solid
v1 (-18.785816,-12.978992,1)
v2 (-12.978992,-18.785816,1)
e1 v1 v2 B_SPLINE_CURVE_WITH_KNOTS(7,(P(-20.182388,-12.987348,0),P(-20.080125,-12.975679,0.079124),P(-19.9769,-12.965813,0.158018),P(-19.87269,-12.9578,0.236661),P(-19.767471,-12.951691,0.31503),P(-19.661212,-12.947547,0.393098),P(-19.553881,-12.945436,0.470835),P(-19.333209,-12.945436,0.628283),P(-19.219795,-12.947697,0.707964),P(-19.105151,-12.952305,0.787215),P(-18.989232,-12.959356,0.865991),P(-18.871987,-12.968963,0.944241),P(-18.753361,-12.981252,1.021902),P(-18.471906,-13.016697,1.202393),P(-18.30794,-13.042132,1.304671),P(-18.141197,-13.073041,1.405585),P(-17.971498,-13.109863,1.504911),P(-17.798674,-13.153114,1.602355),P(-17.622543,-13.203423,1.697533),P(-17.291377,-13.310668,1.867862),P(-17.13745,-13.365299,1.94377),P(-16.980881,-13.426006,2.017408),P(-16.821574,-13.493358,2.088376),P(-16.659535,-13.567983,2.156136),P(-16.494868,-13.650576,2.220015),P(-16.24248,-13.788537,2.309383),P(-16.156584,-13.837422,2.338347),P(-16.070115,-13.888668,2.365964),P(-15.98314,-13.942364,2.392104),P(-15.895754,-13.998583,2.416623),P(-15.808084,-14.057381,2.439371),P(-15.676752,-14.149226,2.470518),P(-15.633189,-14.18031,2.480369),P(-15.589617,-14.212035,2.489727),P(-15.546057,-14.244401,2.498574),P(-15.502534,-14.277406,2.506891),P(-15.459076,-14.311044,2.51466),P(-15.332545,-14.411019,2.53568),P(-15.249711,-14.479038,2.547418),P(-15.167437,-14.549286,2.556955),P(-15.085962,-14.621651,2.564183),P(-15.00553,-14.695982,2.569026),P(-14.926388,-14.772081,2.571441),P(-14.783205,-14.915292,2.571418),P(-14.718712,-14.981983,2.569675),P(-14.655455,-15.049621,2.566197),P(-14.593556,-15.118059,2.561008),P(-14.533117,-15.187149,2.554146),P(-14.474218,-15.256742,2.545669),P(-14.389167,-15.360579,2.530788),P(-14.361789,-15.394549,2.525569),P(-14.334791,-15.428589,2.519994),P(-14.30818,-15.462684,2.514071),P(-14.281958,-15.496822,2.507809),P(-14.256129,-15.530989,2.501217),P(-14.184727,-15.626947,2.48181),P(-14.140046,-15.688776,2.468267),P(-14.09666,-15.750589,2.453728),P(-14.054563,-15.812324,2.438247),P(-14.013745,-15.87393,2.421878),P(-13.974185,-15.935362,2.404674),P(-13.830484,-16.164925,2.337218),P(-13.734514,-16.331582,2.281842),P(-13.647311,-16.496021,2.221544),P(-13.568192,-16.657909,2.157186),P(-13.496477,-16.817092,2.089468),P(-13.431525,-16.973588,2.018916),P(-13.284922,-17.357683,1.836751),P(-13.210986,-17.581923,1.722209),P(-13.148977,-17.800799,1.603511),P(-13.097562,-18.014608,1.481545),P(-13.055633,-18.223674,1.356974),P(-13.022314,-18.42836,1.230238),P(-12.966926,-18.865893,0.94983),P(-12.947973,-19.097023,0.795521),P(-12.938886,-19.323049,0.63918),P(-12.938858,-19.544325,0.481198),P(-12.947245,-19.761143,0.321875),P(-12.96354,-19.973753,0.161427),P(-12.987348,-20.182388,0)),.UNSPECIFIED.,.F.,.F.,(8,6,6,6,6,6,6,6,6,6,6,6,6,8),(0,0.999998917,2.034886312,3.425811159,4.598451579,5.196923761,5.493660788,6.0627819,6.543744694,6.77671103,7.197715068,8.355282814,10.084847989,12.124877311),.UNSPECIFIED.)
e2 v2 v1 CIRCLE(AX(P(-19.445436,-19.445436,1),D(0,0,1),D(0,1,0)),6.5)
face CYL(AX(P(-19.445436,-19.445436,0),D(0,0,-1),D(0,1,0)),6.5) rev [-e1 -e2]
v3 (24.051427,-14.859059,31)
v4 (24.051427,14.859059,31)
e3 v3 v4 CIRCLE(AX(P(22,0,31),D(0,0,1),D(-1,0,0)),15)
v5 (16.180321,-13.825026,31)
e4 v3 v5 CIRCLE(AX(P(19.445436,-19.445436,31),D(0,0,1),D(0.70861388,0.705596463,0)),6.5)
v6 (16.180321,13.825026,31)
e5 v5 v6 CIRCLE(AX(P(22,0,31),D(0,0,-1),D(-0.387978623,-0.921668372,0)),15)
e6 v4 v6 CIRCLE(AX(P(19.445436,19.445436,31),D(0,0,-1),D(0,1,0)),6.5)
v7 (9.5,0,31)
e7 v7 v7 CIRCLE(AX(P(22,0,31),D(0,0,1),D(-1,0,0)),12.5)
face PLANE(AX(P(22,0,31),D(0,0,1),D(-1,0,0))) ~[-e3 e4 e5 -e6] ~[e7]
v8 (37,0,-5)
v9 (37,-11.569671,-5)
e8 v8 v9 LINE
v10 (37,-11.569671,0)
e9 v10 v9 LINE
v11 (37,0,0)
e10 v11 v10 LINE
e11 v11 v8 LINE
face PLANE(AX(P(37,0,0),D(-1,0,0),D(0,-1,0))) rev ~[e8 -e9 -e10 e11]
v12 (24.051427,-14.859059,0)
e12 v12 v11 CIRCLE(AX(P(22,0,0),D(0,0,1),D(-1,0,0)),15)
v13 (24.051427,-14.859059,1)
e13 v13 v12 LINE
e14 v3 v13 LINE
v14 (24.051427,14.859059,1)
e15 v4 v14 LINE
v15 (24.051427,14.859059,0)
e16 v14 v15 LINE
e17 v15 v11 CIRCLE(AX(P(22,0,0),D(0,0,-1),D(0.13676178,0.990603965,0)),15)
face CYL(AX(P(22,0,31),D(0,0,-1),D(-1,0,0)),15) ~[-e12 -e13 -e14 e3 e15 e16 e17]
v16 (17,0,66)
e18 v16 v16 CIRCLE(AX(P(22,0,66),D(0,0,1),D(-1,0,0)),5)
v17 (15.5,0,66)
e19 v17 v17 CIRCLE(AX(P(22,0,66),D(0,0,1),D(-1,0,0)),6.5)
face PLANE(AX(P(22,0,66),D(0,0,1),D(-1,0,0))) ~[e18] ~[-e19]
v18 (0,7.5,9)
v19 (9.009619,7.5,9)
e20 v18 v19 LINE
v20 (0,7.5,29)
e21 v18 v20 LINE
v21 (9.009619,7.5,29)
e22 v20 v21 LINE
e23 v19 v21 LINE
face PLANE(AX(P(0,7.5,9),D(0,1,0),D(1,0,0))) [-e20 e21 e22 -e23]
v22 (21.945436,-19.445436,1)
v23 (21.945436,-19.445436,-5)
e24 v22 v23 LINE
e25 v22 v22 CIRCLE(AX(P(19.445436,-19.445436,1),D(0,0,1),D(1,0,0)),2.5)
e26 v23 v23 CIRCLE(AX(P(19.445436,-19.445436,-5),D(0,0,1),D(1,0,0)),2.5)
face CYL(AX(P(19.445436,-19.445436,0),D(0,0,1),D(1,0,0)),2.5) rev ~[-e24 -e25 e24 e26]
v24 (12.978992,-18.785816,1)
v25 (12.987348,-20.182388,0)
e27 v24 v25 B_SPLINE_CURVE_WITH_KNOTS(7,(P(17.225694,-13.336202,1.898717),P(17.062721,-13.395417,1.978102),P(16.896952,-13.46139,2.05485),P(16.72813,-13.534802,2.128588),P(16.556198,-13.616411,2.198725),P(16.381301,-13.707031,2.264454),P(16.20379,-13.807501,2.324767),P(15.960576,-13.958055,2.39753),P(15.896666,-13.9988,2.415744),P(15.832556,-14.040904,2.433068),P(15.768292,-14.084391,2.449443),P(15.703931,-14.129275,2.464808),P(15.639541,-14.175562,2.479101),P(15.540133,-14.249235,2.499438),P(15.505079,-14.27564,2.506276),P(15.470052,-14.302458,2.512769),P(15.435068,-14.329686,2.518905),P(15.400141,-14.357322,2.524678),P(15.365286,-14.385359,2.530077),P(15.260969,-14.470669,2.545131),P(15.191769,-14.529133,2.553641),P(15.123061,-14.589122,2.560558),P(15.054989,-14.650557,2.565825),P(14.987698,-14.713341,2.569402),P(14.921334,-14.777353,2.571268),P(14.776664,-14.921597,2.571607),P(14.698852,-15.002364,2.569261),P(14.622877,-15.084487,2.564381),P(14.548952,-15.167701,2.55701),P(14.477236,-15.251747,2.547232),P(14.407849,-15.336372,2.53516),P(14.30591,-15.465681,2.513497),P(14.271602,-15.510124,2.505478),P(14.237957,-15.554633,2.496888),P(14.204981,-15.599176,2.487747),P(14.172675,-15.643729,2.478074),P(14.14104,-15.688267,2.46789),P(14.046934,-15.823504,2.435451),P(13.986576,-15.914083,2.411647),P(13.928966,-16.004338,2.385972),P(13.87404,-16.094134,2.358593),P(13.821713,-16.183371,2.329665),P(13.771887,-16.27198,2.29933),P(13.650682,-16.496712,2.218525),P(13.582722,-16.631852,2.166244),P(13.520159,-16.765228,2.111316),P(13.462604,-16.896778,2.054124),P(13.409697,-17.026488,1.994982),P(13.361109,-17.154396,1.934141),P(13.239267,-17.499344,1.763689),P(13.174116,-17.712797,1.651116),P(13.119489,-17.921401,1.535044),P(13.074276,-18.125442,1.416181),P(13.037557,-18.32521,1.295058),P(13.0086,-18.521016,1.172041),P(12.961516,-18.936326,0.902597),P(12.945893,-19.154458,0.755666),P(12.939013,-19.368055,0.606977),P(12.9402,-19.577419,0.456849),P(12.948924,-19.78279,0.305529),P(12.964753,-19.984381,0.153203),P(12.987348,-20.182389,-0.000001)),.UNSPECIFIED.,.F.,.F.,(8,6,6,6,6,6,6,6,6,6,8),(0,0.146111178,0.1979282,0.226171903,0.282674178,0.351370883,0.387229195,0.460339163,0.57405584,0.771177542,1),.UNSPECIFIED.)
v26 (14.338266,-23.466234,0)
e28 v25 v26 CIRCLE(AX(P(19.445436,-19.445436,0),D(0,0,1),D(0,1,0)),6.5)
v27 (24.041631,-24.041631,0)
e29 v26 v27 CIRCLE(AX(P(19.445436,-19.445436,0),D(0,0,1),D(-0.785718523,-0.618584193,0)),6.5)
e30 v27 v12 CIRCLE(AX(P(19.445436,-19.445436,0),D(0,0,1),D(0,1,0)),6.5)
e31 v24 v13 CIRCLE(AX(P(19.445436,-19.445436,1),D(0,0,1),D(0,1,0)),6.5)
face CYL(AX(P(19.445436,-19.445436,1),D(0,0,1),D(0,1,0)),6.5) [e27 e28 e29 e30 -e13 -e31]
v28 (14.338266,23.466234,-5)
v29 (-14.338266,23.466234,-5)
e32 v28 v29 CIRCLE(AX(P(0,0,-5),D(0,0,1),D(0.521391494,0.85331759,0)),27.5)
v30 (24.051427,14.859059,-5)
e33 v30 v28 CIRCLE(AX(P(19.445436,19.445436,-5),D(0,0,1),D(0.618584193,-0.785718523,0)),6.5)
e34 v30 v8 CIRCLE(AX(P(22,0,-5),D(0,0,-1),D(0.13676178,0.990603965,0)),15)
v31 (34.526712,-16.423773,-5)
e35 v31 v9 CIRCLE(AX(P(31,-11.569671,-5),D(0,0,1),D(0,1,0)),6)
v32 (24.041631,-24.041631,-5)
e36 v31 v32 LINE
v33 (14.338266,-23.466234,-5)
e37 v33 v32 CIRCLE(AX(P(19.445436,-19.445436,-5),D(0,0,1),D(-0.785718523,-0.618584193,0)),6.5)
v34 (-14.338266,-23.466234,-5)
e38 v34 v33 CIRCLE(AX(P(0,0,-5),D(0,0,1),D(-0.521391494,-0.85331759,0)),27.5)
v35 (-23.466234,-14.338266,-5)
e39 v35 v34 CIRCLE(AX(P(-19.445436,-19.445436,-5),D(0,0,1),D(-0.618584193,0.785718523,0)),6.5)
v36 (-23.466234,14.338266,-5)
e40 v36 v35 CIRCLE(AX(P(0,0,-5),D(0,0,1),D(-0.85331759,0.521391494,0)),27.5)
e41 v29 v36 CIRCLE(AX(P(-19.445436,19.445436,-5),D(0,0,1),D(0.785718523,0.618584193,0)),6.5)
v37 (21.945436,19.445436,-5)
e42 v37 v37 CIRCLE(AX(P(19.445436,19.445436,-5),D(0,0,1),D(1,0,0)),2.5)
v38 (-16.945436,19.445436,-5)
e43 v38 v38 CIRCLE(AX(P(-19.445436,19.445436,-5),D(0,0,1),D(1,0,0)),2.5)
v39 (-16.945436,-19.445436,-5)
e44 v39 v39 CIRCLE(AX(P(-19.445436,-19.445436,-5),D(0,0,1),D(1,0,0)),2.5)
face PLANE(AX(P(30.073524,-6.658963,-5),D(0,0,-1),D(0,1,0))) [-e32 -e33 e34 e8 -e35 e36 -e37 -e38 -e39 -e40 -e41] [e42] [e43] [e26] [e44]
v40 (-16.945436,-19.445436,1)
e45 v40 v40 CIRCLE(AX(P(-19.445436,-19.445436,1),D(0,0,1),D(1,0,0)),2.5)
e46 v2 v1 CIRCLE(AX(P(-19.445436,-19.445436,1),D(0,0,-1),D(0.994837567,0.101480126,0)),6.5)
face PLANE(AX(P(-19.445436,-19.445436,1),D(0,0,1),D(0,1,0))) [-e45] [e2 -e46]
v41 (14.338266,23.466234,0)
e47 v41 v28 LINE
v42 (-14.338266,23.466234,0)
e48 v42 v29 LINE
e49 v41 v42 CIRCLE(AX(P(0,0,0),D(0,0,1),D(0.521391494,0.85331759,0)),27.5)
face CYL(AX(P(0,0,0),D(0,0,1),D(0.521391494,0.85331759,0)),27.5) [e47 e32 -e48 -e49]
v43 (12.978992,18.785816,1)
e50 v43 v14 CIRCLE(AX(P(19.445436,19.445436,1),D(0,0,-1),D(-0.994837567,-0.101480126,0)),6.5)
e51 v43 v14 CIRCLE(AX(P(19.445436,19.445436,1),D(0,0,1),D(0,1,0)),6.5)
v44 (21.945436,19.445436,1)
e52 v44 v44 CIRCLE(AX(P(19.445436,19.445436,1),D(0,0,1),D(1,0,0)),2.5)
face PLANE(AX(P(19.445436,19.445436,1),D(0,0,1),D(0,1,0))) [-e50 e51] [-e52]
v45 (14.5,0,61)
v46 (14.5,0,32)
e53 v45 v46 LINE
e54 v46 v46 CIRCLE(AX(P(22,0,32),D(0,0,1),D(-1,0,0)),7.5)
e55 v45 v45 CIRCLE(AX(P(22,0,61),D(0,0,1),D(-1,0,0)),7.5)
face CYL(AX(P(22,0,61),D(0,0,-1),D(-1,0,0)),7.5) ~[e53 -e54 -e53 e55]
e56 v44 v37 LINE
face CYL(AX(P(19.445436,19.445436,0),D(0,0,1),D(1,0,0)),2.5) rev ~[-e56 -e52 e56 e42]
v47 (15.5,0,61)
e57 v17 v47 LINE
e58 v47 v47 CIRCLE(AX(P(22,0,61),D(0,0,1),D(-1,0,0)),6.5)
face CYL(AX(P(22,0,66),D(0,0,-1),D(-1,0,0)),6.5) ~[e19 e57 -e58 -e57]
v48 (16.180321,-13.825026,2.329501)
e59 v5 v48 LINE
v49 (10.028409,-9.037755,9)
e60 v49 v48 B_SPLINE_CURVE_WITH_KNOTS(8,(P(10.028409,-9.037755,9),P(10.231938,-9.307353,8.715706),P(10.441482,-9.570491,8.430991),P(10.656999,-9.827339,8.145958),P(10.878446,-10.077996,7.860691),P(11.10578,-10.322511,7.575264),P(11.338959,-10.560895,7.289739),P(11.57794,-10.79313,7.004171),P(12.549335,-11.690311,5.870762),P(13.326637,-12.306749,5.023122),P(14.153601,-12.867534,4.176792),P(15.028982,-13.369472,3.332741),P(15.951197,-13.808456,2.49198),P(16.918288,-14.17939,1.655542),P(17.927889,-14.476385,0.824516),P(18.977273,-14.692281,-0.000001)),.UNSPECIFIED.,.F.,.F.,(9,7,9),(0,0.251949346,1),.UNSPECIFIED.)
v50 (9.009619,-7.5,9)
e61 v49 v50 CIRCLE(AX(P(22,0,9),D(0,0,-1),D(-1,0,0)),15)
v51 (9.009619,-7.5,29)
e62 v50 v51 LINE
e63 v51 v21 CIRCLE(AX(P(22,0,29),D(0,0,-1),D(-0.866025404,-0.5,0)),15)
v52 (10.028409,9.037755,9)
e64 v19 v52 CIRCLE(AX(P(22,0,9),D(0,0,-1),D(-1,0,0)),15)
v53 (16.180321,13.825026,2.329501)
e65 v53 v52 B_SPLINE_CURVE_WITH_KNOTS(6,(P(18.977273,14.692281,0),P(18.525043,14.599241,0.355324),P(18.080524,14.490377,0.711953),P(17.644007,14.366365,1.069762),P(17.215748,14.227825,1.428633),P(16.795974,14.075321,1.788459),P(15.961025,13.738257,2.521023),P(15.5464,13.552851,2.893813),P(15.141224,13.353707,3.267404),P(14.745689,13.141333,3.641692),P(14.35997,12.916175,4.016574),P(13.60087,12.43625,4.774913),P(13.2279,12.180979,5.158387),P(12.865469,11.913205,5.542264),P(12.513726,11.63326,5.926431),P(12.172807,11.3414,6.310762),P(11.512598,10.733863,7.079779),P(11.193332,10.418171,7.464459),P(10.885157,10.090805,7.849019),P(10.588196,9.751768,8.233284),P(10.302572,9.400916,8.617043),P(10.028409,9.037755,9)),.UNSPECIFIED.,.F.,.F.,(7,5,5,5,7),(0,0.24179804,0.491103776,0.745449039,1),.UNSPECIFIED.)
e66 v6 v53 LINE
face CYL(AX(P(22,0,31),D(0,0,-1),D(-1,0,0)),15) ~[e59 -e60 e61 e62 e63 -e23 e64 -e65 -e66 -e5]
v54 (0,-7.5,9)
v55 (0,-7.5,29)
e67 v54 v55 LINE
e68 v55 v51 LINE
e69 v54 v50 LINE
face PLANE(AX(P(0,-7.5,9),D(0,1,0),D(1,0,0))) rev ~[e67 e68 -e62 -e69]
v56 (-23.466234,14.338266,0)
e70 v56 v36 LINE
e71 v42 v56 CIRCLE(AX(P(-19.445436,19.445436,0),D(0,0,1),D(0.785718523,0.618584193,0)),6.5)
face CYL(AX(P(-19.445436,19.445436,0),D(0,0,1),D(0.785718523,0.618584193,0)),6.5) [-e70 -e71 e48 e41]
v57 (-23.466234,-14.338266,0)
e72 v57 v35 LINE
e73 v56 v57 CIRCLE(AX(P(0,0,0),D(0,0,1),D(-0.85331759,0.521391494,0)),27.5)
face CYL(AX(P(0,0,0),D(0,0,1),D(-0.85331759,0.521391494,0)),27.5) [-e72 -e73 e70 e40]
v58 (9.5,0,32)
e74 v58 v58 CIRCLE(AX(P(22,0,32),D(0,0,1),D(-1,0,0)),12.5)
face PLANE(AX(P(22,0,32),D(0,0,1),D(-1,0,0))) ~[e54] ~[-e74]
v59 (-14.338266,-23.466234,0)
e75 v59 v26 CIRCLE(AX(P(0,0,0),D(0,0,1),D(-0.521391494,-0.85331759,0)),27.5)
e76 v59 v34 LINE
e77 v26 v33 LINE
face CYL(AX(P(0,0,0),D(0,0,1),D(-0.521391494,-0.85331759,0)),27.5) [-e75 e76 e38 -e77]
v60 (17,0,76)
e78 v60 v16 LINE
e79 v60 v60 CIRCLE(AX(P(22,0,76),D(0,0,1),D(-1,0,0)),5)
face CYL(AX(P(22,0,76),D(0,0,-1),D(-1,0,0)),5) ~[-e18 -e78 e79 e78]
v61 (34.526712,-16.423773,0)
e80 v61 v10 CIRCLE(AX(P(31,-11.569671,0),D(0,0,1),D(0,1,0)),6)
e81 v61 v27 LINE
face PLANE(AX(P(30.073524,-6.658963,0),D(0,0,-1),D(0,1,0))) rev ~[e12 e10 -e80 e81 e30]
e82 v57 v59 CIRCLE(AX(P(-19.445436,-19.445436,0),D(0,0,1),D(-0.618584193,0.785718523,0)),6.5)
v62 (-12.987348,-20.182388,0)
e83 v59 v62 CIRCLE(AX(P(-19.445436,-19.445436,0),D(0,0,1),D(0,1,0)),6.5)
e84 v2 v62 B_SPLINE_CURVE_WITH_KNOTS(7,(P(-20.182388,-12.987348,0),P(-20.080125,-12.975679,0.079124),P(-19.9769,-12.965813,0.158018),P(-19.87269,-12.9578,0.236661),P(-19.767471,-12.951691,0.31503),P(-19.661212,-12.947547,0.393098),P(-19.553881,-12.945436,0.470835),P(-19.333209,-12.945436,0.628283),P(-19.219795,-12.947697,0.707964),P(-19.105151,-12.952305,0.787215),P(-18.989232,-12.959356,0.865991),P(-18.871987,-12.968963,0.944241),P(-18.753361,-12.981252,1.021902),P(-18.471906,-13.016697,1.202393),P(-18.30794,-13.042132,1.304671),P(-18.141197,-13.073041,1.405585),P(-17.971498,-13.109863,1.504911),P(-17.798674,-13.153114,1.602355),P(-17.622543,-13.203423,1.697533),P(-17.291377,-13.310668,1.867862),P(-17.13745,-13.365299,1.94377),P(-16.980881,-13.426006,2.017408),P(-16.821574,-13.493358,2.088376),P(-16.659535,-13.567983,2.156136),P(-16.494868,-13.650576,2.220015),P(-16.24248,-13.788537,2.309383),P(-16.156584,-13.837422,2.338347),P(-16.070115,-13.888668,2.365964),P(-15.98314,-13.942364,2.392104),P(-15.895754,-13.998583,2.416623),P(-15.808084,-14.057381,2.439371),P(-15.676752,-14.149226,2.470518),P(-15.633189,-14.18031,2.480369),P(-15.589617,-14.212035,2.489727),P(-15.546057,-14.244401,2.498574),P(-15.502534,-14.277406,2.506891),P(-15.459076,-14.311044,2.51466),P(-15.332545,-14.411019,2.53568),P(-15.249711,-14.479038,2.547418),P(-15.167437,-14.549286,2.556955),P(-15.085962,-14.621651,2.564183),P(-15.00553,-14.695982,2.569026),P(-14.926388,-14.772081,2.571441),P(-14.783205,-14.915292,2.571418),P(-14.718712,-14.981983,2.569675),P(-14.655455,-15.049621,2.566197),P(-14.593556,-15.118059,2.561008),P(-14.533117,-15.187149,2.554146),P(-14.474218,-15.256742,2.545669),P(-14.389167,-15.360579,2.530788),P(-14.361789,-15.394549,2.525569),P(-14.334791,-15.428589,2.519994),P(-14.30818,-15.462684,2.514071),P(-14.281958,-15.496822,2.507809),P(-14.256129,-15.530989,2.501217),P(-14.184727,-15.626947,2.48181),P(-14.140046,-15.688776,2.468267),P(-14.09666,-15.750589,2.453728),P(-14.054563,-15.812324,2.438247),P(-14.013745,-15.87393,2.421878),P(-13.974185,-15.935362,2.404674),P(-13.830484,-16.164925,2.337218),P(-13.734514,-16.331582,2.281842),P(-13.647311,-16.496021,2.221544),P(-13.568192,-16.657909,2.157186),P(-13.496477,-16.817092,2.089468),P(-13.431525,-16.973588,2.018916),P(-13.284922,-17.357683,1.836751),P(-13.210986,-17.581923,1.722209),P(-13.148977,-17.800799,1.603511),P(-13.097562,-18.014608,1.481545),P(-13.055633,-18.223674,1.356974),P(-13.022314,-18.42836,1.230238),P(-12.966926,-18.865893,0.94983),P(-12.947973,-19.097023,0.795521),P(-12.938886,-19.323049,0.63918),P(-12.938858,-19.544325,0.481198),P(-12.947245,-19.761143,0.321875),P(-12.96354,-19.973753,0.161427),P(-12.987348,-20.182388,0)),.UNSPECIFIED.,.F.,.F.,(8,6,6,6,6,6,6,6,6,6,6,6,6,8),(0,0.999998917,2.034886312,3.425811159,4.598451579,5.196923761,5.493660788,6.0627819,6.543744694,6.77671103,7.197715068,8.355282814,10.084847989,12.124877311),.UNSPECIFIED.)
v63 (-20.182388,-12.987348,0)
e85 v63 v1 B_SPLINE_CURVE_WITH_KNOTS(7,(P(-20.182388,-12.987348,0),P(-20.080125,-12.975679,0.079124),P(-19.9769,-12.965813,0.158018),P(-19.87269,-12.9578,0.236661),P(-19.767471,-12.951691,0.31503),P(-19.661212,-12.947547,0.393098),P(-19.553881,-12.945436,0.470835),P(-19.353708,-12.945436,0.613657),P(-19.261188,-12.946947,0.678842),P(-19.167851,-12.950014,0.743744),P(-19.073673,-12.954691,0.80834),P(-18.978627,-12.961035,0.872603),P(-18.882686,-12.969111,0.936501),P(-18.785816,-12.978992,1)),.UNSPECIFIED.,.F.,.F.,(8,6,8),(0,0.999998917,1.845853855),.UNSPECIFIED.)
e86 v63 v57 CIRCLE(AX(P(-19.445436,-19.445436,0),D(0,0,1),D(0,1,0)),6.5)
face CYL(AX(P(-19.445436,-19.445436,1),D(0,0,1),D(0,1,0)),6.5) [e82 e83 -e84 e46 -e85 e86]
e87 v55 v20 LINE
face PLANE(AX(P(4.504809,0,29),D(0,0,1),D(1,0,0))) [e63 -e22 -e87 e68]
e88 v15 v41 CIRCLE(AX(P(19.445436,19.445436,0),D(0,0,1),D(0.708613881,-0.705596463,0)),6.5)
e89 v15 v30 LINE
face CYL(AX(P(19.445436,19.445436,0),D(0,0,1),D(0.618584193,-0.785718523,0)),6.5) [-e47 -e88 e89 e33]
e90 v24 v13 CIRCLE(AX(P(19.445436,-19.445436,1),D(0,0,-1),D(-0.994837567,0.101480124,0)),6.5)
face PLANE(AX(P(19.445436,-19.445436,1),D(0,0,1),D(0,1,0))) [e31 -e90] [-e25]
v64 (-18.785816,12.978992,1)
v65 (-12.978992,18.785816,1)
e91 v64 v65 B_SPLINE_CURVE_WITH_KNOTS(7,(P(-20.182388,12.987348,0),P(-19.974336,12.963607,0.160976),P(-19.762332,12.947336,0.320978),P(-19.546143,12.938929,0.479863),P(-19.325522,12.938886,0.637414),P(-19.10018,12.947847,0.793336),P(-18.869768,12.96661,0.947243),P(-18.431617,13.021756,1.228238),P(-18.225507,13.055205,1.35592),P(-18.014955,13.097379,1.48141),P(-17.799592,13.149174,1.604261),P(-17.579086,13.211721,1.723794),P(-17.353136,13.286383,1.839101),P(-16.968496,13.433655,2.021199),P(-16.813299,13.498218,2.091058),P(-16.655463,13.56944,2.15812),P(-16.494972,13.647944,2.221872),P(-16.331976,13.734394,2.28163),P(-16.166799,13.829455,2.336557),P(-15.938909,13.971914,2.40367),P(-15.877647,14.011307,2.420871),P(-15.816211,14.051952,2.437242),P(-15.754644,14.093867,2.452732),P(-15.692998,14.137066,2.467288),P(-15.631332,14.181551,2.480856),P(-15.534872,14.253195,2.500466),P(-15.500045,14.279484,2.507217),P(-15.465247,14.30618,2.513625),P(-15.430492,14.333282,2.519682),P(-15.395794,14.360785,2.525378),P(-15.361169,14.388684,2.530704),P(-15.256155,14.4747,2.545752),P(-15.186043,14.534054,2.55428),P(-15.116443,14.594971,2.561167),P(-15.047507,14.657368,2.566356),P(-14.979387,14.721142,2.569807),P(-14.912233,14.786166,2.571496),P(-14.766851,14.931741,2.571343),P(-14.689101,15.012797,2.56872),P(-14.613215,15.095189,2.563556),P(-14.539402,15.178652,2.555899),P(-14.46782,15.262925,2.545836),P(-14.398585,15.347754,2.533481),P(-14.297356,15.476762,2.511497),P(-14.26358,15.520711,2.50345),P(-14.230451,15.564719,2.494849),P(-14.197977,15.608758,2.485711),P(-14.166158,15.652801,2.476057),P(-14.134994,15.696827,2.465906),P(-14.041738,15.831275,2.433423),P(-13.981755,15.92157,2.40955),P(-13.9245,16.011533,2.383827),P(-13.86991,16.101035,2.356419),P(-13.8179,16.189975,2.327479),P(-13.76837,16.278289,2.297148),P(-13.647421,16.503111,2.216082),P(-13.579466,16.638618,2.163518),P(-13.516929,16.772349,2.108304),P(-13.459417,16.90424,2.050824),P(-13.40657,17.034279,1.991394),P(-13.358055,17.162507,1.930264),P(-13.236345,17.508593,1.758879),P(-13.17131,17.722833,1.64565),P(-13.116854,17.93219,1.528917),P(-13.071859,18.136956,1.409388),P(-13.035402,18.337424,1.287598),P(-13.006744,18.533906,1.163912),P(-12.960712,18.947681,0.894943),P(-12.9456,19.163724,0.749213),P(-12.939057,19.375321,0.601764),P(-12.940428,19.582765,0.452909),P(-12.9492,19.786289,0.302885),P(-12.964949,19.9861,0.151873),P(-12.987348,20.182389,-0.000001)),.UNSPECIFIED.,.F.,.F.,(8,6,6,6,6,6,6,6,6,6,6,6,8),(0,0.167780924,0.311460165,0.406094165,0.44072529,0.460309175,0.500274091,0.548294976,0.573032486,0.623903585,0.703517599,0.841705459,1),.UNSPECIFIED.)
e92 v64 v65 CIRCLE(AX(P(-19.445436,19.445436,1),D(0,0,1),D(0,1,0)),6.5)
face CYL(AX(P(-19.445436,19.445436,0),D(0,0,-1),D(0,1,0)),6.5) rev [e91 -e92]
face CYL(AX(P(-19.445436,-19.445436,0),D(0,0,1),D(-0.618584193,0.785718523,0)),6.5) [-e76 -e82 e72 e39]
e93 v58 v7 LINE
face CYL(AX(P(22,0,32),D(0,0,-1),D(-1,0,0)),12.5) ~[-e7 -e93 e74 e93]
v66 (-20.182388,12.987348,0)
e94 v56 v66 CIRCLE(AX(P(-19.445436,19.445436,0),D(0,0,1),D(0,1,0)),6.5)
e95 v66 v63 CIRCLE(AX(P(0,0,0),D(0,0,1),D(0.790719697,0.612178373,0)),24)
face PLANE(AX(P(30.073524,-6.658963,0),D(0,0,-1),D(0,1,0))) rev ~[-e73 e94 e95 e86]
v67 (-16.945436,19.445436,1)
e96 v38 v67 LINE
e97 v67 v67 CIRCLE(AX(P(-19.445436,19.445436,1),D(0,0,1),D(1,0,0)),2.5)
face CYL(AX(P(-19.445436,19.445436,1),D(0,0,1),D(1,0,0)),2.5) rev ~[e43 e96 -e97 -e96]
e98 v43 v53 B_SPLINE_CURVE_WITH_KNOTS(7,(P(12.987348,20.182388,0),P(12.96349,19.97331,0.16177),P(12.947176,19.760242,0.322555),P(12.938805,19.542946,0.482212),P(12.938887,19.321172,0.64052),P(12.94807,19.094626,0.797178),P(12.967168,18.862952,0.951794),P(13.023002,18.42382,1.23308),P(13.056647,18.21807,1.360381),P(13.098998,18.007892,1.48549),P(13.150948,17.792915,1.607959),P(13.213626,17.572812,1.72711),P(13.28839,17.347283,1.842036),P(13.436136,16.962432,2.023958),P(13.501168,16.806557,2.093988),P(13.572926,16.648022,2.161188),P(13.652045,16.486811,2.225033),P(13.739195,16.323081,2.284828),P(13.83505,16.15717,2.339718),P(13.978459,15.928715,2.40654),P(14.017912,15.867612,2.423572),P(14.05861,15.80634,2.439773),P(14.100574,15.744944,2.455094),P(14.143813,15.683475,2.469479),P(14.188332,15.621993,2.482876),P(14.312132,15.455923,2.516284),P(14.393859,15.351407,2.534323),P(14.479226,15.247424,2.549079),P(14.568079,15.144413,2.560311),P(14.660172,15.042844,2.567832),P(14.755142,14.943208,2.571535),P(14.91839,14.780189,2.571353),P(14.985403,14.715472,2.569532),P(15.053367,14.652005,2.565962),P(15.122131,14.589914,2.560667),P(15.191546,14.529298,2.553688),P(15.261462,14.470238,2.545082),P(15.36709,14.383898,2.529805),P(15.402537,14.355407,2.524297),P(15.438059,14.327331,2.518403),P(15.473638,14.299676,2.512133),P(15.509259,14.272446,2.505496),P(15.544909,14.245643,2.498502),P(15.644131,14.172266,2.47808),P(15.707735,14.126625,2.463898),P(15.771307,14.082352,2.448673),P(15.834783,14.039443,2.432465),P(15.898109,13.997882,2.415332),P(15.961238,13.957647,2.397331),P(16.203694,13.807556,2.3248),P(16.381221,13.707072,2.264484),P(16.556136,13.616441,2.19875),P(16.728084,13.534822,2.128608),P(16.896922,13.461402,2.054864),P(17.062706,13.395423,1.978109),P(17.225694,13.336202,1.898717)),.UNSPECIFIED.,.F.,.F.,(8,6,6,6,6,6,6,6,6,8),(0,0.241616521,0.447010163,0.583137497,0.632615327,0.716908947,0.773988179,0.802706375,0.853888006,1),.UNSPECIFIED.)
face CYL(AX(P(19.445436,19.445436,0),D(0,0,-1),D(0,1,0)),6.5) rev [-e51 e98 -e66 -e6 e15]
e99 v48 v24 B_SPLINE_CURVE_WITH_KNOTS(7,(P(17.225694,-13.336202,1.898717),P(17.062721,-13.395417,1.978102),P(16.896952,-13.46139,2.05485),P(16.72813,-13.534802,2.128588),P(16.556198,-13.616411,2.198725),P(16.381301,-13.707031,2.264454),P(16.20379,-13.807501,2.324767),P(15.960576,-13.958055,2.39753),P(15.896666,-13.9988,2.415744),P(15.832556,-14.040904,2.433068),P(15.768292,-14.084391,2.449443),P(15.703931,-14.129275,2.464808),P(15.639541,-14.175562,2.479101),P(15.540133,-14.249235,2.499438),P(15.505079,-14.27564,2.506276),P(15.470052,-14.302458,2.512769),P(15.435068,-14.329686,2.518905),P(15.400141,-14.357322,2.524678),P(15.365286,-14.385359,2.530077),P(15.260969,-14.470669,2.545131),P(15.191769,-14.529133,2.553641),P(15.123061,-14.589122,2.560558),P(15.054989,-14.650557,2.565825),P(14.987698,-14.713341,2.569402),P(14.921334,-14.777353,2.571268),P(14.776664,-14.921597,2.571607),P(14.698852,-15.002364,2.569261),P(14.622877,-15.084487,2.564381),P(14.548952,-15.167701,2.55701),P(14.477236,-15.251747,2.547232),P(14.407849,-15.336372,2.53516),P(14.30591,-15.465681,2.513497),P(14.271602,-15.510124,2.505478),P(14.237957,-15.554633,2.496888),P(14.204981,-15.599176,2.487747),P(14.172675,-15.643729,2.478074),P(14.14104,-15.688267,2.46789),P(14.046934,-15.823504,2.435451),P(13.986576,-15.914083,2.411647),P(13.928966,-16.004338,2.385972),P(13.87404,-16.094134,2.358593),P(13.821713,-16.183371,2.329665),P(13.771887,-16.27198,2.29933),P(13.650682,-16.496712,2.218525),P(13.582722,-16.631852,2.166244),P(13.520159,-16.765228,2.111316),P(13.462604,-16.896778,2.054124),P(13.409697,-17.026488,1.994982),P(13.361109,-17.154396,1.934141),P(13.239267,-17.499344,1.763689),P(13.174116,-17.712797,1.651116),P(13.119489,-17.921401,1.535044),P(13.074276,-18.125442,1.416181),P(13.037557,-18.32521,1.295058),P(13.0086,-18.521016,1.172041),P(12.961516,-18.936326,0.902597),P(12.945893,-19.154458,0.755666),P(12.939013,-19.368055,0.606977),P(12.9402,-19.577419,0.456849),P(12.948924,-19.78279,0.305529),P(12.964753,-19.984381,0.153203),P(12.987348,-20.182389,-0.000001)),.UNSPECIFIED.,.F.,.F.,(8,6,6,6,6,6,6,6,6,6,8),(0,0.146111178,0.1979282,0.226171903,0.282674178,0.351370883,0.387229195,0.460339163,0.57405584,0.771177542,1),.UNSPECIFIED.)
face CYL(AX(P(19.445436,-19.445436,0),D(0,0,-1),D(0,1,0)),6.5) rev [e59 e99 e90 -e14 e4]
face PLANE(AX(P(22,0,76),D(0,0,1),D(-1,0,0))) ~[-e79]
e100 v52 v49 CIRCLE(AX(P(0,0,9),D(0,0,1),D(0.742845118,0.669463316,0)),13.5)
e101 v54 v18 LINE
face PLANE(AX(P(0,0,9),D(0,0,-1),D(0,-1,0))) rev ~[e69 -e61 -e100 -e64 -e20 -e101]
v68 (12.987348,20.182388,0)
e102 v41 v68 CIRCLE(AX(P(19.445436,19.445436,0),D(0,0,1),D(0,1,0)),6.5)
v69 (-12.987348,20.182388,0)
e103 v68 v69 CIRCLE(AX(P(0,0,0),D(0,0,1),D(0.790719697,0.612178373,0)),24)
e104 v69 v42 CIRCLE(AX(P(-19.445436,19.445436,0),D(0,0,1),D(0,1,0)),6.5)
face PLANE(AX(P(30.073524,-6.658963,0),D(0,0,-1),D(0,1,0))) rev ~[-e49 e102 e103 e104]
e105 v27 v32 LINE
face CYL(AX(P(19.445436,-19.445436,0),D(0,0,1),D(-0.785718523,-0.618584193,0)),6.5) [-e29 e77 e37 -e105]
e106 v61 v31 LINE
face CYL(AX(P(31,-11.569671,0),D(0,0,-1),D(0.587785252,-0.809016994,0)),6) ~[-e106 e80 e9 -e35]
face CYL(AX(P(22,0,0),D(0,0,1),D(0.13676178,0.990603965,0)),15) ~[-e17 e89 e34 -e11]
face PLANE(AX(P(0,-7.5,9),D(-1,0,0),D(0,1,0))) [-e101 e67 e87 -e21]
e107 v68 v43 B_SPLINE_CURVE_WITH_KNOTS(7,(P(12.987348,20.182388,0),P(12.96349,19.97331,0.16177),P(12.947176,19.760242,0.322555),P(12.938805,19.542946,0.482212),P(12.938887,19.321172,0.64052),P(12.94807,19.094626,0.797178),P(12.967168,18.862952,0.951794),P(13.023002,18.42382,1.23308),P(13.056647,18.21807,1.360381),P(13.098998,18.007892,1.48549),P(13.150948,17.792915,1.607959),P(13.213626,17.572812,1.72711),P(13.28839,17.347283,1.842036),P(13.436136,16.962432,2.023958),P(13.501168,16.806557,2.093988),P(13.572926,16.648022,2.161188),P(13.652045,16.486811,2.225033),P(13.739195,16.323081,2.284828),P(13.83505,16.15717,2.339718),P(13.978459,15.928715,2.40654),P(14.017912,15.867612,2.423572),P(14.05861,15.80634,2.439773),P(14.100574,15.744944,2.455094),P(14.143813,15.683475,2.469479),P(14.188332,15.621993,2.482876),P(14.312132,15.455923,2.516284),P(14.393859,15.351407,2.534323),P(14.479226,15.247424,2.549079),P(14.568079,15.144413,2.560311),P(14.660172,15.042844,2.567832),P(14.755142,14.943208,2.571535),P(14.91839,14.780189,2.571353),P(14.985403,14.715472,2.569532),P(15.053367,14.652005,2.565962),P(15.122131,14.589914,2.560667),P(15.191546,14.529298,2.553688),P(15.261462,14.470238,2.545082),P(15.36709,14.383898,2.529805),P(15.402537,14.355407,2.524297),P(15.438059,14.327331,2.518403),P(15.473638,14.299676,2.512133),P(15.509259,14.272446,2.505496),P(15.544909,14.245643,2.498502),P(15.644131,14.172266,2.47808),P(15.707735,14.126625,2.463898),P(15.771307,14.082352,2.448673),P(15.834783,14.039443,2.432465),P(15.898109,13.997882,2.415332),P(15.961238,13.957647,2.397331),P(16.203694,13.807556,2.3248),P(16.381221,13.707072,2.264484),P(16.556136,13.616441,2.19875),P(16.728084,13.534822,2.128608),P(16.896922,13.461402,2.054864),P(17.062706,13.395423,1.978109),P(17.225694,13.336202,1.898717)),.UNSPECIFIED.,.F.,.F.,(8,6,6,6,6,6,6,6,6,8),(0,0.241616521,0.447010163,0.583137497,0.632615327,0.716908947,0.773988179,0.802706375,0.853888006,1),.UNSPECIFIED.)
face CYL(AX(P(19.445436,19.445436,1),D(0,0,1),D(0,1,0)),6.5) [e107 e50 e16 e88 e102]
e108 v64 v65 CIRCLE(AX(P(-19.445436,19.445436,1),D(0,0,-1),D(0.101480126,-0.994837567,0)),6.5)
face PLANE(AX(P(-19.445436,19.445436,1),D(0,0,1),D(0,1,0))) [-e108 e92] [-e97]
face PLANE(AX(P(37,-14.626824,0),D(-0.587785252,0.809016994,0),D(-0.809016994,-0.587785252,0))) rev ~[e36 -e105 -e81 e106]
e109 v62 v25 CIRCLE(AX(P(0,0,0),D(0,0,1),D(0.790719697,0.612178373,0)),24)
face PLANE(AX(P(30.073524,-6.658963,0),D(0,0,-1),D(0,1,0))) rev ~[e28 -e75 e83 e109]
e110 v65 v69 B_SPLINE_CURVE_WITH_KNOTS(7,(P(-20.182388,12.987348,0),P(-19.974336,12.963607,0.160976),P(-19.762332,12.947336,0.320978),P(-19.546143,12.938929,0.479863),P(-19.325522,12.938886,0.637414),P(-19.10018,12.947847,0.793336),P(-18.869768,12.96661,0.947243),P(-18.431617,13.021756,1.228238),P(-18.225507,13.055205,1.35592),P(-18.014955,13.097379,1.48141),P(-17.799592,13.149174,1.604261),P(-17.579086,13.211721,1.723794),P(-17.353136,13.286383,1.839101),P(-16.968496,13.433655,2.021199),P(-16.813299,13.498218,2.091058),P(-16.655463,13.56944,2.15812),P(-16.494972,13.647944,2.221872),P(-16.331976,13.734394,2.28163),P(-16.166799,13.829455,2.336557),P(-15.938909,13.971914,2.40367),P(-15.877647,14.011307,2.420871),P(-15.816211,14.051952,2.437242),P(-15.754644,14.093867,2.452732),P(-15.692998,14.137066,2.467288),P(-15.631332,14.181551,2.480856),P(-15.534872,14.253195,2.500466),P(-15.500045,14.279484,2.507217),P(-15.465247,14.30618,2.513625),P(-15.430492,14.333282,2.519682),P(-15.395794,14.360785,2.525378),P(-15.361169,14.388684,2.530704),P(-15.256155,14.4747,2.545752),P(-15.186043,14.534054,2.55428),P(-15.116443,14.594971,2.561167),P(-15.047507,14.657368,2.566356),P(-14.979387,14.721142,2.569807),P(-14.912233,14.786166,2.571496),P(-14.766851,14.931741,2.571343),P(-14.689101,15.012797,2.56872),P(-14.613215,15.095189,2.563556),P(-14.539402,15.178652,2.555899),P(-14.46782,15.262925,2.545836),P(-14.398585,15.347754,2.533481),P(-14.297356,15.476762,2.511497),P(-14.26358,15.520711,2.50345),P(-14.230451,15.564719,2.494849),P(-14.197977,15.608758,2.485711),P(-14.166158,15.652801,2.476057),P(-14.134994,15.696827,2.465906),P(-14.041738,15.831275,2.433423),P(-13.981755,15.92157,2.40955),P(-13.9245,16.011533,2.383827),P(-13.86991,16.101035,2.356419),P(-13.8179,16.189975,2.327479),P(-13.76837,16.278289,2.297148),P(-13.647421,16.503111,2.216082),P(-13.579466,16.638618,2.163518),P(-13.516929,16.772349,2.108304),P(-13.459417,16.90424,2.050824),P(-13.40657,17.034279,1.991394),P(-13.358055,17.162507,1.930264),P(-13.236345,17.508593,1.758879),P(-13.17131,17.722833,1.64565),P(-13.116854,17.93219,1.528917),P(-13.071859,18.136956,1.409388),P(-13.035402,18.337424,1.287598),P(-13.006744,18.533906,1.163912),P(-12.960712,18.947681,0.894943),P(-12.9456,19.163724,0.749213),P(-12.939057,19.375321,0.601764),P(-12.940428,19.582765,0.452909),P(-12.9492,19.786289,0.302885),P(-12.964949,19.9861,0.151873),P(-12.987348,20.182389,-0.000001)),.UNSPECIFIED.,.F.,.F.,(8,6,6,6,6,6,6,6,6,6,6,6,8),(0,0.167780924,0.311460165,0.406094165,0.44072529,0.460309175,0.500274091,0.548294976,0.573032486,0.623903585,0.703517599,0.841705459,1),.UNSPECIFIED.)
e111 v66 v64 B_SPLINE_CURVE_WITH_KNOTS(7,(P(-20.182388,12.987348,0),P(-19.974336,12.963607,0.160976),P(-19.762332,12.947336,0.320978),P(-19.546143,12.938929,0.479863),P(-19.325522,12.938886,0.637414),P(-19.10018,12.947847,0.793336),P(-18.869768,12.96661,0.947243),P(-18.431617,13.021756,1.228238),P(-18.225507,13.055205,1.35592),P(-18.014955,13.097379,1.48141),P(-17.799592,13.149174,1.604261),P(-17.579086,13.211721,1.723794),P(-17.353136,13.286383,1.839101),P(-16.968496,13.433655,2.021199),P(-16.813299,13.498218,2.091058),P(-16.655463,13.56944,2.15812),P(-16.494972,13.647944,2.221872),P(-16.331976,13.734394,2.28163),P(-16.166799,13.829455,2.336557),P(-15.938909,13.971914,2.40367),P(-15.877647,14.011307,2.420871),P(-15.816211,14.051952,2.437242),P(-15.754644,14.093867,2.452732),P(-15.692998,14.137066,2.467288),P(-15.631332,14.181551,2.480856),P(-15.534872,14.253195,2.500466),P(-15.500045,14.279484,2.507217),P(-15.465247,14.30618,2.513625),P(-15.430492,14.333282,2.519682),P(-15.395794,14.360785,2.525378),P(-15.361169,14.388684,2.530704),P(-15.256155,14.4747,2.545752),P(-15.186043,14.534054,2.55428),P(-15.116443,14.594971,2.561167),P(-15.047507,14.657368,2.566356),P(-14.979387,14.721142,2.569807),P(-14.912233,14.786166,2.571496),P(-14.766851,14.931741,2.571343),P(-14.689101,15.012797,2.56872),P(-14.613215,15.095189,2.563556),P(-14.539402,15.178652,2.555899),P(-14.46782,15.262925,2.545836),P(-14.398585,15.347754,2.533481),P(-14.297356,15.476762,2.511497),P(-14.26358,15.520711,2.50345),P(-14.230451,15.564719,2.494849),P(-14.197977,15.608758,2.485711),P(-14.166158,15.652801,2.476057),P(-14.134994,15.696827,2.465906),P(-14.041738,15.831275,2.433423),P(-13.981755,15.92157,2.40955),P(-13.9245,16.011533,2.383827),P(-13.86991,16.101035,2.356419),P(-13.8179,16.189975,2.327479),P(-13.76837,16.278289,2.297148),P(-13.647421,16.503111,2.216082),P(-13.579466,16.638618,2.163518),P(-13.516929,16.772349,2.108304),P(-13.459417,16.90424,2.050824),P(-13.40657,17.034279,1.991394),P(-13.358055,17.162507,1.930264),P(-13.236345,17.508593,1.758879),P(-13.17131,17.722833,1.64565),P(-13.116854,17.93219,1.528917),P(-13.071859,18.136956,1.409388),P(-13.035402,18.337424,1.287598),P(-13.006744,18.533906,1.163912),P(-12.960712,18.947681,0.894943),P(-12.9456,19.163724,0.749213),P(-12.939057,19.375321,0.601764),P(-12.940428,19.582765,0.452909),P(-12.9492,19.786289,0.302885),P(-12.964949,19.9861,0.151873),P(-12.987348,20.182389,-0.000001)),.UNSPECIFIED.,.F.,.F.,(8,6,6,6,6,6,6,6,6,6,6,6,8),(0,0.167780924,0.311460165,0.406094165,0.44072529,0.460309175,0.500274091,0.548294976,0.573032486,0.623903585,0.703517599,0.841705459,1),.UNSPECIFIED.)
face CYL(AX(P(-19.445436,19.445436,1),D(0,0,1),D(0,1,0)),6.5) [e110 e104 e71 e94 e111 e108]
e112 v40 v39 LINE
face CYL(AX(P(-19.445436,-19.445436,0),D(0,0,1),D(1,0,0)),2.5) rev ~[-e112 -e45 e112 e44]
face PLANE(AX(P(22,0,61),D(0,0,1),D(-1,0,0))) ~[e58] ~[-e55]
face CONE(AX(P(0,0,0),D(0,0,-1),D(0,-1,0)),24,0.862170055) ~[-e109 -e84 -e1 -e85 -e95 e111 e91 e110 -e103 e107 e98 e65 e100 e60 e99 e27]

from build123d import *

# Parameters (mm, degrees)
SKETCH1_R           = 2.5
BOSS_EXTRUDE1_DEPTH = 5
BOSS_EXTRUDE2_START = -5
BOSS_EXTRUDE2_DEPTH = 5
SKETCH8_W           = 9.009618943
SKETCH8_H           = 15
BOSS_EXTRUDE3_DEPTH = 20
SKETCH1_3_R         = 6.5
CUT_EXTRUDE1_DEPTH  = 89.888975736
FILLET1_R           = 6
BOSS_EXTRUDE4_START = 1
SKETCH1_4_R         = 6.5
SKETCH1_4_R_2       = 2.5
BOSS_EXTRUDE4_DEPTH = 1


with BuildPart() as part:
    # Sketch1 → Boss-Extrude1 (new body)
    with BuildSketch(Plane(origin=(0, 0, 0), x_dir=(0, 1, 0), z_dir=(0, 0, 1))):
        with BuildLine():
            ThreePointArc((23.466233734, -14.338266086), (27.5, 0), (23.466233734, 14.338266086))
            ThreePointArc((23.466233734, 14.338266086), (24.04163056, 24.04163056), (14.338266086, 23.466233734))
            ThreePointArc((14.338266086, 23.466233734), (0, 27.5), (-14.338266086, 23.466233734))
            ThreePointArc((-14.338266086, 23.466233734), (-24.04163056, 24.04163056), (-23.466233734, 14.338266086))
            ThreePointArc((-23.466233734, 14.338266086), (-27.5, 0), (-23.466233734, -14.338266086))
            ThreePointArc((-23.466233734, -14.338266086), (-24.04163056, -24.04163056), (-14.338266086, -23.466233734))
            ThreePointArc((-14.338266086, -23.466233734), (0, -27.5), (14.338266086, -23.466233734))
            ThreePointArc((14.338266086, -23.466233734), (24.04163056, -24.04163056), (23.466233734, -14.338266086))
        make_face()
        with Locations(Location((-19.445436483, 19.445436483, 0), (0, 0, 270))):
            Circle(SKETCH1_R, mode=Mode.SUBTRACT)
        with Locations(Location((19.445436483, 19.445436483, 0), (0, 0, 270))):
            Circle(SKETCH1_R, mode=Mode.SUBTRACT)
        with Locations(Location((19.445436483, -19.445436483, 0), (0, 0, 270))):
            Circle(SKETCH1_R, mode=Mode.SUBTRACT)
        with Locations(Location((-19.445436483, -19.445436483, 0), (0, 0, 270))):
            Circle(SKETCH1_R, mode=Mode.SUBTRACT)
    extrude(amount=-BOSS_EXTRUDE1_DEPTH)

    # Sketch5 → Revolve1 (revolve)
    with BuildSketch(Plane.YZ, mode=Mode.PRIVATE) as revolve1_sk:
        Polygon((0, 0), (24, 0), (13.5, 9), (0, 9), align=None)
    revolve(revolve1_sk.sketch.rotate(Axis((0, 0, 9), (0, 0, -1)), 180), axis=Axis((0, 0, 9), (0, 0, -1)))

    # Sketch6 → Boss-Extrude2 (add)
    with BuildSketch(Plane.YX.offset(5).offset(BOSS_EXTRUDE2_START)):
        with BuildLine():
            ThreePointArc((0, 37), (-9.854658782, 33.30865599), (-14.859059475, 24.051426706))
            ThreePointArc((-14.859059475, 24.051426706), (-14.589838885, 23.766683059), (-14.338266086, 23.466233734))
            ThreePointArc((-14.338266086, 23.466233734), (-7.447434871, 26.472357542), (0, 27.5))
            Line((0, 27.5), (0, 37))
        make_face()
        with BuildLine():
            ThreePointArc((14.859059475, 24.051426706), (9.854658782, 33.30865599), (0, 37))
            Line((0, 37), (0, 27.5))
            ThreePointArc((0, 27.5), (7.447434871, 26.472357542), (14.338266086, 23.466233734))
            ThreePointArc((14.338266086, 23.466233734), (14.589838885, 23.766683059), (14.859059475, 24.051426706))
        make_face()
        with BuildLine():
            Line((-14.626824069, 37), (-24.04163056, 24.04163056))
            ThreePointArc((-24.04163056, 24.04163056), (-19.452370805, 25.945432784), (-14.859059475, 24.051426706))
            ThreePointArc((-14.859059475, 24.051426706), (-9.854658782, 33.30865599), (0, 37))
            Line((0, 37), (-14.626824069, 37))
        make_face()
        with BuildLine():
            ThreePointArc((-14.338266086, 23.466233734), (-14.589838885, 23.766683059), (-14.859059475, 24.051426706))
            ThreePointArc((-14.859059475, 24.051426706), (-1.028131286, 7.035276613), (15, 22))
            ThreePointArc((15, 22), (14.964723387, 23.028131286), (14.859059475, 24.051426706))
            ThreePointArc((14.859059475, 24.051426706), (14.589838885, 23.766683059), (14.338266086, 23.466233734))
            ThreePointArc((14.338266086, 23.466233734), (7.447434871, 26.472357542), (0, 27.5))
            ThreePointArc((0, 27.5), (-7.447434871, 26.472357542), (-14.338266086, 23.466233734))
        make_face()
    extrude(amount=BOSS_EXTRUDE2_DEPTH)

    # Sketch7 → Revolve2 (revolve)
    with BuildSketch(Plane(origin=(0, 0, 0), x_dir=(-1, 0, 0), z_dir=(0, 1, 0)), mode=Mode.PRIVATE) as revolve2_sk:
        Polygon((-22, 0), (-22, 76), (-27, 76), (-27, 66), (-28.5, 66), (-28.5, 61), (-29.5, 61), (-29.5, 32), (-34.5, 32), (-34.5, 31), (-37, 31), (-37, 0), align=None)
    revolve(revolve2_sk.sketch.rotate(Axis((22, 0, 0), (0, 0, 1)), 180), axis=Axis((22, 0, 0), (0, 0, 1)))

    # Sketch8 → Boss-Extrude3 (add)
    with BuildSketch(Plane.XY.offset(9)):
        with Locations((4.504809472, 0)):
            Rectangle(SKETCH8_W, SKETCH8_H)
    extrude(amount=BOSS_EXTRUDE3_DEPTH)

    # Sketch1<3> → Cut-Extrude1 (cut, through all)
    with BuildSketch(Plane(origin=(0, 0, 0), x_dir=(0, 1, 0), z_dir=(0, 0, 1))):
        with Locations((19.445436483, 19.445436483)):
            Circle(SKETCH1_3_R)
        with Locations((-19.445436483, 19.445436483)):
            Circle(SKETCH1_3_R)
        with Locations((-19.445436483, -19.445436483)):
            Circle(SKETCH1_3_R)
        with Locations((19.445436483, -19.445436483)):
            Circle(SKETCH1_3_R)
    extrude(amount=CUT_EXTRUDE1_DEPTH, mode=Mode.SUBTRACT)

    # Fillet1
    fillet1_edges = [part.edges().sort_by_distance(p)[0] for p in [
        (37, -14.626824069, -2.5),
    ]]
    fillet(fillet1_edges, radius=FILLET1_R)

    # Sketch1<4> → Boss-Extrude4 (add)
    # profile 1 of 4: a face of its own
    with BuildSketch(Plane(origin=(0, 0, 0), x_dir=(0, 1, 0), z_dir=(0, 0, 1)).offset(BOSS_EXTRUDE4_START)):
        with Locations((19.445436483, 19.445436483)):
            Circle(SKETCH1_4_R)
        with Locations(Location((19.445436483, 19.445436483, 0), (0, 0, 270))):
            Circle(SKETCH1_4_R_2, mode=Mode.SUBTRACT)
    # profile 2 of 4: a face of its own
    with BuildSketch(Plane(origin=(0, 0, 0), x_dir=(0, 1, 0), z_dir=(0, 0, 1)).offset(BOSS_EXTRUDE4_START)):
        with Locations((19.445436483, -19.445436483)):
            Circle(SKETCH1_4_R)
        with Locations(Location((19.445436483, -19.445436483, 0), (0, 0, 270))):
            Circle(SKETCH1_4_R_2, mode=Mode.SUBTRACT)
    # profile 3 of 4: a face of its own
    with BuildSketch(Plane(origin=(0, 0, 0), x_dir=(0, 1, 0), z_dir=(0, 0, 1)).offset(BOSS_EXTRUDE4_START)):
        with Locations((-19.445436483, 19.445436483)):
            Circle(SKETCH1_4_R)
        with Locations(Location((-19.445436483, 19.445436483, 0), (0, 0, 270))):
            Circle(SKETCH1_4_R_2, mode=Mode.SUBTRACT)
    # profile 4 of 4: a face of its own
    with BuildSketch(Plane(origin=(0, 0, 0), x_dir=(0, 1, 0), z_dir=(0, 0, 1)).offset(BOSS_EXTRUDE4_START)):
        with Locations((-19.445436483, -19.445436483)):
            Circle(SKETCH1_4_R)
        with Locations(Location((-19.445436483, -19.445436483, 0), (0, 0, 270))):
            Circle(SKETCH1_4_R_2, mode=Mode.SUBTRACT)
    extrude(amount=-BOSS_EXTRUDE4_DEPTH)


solid = part.part
